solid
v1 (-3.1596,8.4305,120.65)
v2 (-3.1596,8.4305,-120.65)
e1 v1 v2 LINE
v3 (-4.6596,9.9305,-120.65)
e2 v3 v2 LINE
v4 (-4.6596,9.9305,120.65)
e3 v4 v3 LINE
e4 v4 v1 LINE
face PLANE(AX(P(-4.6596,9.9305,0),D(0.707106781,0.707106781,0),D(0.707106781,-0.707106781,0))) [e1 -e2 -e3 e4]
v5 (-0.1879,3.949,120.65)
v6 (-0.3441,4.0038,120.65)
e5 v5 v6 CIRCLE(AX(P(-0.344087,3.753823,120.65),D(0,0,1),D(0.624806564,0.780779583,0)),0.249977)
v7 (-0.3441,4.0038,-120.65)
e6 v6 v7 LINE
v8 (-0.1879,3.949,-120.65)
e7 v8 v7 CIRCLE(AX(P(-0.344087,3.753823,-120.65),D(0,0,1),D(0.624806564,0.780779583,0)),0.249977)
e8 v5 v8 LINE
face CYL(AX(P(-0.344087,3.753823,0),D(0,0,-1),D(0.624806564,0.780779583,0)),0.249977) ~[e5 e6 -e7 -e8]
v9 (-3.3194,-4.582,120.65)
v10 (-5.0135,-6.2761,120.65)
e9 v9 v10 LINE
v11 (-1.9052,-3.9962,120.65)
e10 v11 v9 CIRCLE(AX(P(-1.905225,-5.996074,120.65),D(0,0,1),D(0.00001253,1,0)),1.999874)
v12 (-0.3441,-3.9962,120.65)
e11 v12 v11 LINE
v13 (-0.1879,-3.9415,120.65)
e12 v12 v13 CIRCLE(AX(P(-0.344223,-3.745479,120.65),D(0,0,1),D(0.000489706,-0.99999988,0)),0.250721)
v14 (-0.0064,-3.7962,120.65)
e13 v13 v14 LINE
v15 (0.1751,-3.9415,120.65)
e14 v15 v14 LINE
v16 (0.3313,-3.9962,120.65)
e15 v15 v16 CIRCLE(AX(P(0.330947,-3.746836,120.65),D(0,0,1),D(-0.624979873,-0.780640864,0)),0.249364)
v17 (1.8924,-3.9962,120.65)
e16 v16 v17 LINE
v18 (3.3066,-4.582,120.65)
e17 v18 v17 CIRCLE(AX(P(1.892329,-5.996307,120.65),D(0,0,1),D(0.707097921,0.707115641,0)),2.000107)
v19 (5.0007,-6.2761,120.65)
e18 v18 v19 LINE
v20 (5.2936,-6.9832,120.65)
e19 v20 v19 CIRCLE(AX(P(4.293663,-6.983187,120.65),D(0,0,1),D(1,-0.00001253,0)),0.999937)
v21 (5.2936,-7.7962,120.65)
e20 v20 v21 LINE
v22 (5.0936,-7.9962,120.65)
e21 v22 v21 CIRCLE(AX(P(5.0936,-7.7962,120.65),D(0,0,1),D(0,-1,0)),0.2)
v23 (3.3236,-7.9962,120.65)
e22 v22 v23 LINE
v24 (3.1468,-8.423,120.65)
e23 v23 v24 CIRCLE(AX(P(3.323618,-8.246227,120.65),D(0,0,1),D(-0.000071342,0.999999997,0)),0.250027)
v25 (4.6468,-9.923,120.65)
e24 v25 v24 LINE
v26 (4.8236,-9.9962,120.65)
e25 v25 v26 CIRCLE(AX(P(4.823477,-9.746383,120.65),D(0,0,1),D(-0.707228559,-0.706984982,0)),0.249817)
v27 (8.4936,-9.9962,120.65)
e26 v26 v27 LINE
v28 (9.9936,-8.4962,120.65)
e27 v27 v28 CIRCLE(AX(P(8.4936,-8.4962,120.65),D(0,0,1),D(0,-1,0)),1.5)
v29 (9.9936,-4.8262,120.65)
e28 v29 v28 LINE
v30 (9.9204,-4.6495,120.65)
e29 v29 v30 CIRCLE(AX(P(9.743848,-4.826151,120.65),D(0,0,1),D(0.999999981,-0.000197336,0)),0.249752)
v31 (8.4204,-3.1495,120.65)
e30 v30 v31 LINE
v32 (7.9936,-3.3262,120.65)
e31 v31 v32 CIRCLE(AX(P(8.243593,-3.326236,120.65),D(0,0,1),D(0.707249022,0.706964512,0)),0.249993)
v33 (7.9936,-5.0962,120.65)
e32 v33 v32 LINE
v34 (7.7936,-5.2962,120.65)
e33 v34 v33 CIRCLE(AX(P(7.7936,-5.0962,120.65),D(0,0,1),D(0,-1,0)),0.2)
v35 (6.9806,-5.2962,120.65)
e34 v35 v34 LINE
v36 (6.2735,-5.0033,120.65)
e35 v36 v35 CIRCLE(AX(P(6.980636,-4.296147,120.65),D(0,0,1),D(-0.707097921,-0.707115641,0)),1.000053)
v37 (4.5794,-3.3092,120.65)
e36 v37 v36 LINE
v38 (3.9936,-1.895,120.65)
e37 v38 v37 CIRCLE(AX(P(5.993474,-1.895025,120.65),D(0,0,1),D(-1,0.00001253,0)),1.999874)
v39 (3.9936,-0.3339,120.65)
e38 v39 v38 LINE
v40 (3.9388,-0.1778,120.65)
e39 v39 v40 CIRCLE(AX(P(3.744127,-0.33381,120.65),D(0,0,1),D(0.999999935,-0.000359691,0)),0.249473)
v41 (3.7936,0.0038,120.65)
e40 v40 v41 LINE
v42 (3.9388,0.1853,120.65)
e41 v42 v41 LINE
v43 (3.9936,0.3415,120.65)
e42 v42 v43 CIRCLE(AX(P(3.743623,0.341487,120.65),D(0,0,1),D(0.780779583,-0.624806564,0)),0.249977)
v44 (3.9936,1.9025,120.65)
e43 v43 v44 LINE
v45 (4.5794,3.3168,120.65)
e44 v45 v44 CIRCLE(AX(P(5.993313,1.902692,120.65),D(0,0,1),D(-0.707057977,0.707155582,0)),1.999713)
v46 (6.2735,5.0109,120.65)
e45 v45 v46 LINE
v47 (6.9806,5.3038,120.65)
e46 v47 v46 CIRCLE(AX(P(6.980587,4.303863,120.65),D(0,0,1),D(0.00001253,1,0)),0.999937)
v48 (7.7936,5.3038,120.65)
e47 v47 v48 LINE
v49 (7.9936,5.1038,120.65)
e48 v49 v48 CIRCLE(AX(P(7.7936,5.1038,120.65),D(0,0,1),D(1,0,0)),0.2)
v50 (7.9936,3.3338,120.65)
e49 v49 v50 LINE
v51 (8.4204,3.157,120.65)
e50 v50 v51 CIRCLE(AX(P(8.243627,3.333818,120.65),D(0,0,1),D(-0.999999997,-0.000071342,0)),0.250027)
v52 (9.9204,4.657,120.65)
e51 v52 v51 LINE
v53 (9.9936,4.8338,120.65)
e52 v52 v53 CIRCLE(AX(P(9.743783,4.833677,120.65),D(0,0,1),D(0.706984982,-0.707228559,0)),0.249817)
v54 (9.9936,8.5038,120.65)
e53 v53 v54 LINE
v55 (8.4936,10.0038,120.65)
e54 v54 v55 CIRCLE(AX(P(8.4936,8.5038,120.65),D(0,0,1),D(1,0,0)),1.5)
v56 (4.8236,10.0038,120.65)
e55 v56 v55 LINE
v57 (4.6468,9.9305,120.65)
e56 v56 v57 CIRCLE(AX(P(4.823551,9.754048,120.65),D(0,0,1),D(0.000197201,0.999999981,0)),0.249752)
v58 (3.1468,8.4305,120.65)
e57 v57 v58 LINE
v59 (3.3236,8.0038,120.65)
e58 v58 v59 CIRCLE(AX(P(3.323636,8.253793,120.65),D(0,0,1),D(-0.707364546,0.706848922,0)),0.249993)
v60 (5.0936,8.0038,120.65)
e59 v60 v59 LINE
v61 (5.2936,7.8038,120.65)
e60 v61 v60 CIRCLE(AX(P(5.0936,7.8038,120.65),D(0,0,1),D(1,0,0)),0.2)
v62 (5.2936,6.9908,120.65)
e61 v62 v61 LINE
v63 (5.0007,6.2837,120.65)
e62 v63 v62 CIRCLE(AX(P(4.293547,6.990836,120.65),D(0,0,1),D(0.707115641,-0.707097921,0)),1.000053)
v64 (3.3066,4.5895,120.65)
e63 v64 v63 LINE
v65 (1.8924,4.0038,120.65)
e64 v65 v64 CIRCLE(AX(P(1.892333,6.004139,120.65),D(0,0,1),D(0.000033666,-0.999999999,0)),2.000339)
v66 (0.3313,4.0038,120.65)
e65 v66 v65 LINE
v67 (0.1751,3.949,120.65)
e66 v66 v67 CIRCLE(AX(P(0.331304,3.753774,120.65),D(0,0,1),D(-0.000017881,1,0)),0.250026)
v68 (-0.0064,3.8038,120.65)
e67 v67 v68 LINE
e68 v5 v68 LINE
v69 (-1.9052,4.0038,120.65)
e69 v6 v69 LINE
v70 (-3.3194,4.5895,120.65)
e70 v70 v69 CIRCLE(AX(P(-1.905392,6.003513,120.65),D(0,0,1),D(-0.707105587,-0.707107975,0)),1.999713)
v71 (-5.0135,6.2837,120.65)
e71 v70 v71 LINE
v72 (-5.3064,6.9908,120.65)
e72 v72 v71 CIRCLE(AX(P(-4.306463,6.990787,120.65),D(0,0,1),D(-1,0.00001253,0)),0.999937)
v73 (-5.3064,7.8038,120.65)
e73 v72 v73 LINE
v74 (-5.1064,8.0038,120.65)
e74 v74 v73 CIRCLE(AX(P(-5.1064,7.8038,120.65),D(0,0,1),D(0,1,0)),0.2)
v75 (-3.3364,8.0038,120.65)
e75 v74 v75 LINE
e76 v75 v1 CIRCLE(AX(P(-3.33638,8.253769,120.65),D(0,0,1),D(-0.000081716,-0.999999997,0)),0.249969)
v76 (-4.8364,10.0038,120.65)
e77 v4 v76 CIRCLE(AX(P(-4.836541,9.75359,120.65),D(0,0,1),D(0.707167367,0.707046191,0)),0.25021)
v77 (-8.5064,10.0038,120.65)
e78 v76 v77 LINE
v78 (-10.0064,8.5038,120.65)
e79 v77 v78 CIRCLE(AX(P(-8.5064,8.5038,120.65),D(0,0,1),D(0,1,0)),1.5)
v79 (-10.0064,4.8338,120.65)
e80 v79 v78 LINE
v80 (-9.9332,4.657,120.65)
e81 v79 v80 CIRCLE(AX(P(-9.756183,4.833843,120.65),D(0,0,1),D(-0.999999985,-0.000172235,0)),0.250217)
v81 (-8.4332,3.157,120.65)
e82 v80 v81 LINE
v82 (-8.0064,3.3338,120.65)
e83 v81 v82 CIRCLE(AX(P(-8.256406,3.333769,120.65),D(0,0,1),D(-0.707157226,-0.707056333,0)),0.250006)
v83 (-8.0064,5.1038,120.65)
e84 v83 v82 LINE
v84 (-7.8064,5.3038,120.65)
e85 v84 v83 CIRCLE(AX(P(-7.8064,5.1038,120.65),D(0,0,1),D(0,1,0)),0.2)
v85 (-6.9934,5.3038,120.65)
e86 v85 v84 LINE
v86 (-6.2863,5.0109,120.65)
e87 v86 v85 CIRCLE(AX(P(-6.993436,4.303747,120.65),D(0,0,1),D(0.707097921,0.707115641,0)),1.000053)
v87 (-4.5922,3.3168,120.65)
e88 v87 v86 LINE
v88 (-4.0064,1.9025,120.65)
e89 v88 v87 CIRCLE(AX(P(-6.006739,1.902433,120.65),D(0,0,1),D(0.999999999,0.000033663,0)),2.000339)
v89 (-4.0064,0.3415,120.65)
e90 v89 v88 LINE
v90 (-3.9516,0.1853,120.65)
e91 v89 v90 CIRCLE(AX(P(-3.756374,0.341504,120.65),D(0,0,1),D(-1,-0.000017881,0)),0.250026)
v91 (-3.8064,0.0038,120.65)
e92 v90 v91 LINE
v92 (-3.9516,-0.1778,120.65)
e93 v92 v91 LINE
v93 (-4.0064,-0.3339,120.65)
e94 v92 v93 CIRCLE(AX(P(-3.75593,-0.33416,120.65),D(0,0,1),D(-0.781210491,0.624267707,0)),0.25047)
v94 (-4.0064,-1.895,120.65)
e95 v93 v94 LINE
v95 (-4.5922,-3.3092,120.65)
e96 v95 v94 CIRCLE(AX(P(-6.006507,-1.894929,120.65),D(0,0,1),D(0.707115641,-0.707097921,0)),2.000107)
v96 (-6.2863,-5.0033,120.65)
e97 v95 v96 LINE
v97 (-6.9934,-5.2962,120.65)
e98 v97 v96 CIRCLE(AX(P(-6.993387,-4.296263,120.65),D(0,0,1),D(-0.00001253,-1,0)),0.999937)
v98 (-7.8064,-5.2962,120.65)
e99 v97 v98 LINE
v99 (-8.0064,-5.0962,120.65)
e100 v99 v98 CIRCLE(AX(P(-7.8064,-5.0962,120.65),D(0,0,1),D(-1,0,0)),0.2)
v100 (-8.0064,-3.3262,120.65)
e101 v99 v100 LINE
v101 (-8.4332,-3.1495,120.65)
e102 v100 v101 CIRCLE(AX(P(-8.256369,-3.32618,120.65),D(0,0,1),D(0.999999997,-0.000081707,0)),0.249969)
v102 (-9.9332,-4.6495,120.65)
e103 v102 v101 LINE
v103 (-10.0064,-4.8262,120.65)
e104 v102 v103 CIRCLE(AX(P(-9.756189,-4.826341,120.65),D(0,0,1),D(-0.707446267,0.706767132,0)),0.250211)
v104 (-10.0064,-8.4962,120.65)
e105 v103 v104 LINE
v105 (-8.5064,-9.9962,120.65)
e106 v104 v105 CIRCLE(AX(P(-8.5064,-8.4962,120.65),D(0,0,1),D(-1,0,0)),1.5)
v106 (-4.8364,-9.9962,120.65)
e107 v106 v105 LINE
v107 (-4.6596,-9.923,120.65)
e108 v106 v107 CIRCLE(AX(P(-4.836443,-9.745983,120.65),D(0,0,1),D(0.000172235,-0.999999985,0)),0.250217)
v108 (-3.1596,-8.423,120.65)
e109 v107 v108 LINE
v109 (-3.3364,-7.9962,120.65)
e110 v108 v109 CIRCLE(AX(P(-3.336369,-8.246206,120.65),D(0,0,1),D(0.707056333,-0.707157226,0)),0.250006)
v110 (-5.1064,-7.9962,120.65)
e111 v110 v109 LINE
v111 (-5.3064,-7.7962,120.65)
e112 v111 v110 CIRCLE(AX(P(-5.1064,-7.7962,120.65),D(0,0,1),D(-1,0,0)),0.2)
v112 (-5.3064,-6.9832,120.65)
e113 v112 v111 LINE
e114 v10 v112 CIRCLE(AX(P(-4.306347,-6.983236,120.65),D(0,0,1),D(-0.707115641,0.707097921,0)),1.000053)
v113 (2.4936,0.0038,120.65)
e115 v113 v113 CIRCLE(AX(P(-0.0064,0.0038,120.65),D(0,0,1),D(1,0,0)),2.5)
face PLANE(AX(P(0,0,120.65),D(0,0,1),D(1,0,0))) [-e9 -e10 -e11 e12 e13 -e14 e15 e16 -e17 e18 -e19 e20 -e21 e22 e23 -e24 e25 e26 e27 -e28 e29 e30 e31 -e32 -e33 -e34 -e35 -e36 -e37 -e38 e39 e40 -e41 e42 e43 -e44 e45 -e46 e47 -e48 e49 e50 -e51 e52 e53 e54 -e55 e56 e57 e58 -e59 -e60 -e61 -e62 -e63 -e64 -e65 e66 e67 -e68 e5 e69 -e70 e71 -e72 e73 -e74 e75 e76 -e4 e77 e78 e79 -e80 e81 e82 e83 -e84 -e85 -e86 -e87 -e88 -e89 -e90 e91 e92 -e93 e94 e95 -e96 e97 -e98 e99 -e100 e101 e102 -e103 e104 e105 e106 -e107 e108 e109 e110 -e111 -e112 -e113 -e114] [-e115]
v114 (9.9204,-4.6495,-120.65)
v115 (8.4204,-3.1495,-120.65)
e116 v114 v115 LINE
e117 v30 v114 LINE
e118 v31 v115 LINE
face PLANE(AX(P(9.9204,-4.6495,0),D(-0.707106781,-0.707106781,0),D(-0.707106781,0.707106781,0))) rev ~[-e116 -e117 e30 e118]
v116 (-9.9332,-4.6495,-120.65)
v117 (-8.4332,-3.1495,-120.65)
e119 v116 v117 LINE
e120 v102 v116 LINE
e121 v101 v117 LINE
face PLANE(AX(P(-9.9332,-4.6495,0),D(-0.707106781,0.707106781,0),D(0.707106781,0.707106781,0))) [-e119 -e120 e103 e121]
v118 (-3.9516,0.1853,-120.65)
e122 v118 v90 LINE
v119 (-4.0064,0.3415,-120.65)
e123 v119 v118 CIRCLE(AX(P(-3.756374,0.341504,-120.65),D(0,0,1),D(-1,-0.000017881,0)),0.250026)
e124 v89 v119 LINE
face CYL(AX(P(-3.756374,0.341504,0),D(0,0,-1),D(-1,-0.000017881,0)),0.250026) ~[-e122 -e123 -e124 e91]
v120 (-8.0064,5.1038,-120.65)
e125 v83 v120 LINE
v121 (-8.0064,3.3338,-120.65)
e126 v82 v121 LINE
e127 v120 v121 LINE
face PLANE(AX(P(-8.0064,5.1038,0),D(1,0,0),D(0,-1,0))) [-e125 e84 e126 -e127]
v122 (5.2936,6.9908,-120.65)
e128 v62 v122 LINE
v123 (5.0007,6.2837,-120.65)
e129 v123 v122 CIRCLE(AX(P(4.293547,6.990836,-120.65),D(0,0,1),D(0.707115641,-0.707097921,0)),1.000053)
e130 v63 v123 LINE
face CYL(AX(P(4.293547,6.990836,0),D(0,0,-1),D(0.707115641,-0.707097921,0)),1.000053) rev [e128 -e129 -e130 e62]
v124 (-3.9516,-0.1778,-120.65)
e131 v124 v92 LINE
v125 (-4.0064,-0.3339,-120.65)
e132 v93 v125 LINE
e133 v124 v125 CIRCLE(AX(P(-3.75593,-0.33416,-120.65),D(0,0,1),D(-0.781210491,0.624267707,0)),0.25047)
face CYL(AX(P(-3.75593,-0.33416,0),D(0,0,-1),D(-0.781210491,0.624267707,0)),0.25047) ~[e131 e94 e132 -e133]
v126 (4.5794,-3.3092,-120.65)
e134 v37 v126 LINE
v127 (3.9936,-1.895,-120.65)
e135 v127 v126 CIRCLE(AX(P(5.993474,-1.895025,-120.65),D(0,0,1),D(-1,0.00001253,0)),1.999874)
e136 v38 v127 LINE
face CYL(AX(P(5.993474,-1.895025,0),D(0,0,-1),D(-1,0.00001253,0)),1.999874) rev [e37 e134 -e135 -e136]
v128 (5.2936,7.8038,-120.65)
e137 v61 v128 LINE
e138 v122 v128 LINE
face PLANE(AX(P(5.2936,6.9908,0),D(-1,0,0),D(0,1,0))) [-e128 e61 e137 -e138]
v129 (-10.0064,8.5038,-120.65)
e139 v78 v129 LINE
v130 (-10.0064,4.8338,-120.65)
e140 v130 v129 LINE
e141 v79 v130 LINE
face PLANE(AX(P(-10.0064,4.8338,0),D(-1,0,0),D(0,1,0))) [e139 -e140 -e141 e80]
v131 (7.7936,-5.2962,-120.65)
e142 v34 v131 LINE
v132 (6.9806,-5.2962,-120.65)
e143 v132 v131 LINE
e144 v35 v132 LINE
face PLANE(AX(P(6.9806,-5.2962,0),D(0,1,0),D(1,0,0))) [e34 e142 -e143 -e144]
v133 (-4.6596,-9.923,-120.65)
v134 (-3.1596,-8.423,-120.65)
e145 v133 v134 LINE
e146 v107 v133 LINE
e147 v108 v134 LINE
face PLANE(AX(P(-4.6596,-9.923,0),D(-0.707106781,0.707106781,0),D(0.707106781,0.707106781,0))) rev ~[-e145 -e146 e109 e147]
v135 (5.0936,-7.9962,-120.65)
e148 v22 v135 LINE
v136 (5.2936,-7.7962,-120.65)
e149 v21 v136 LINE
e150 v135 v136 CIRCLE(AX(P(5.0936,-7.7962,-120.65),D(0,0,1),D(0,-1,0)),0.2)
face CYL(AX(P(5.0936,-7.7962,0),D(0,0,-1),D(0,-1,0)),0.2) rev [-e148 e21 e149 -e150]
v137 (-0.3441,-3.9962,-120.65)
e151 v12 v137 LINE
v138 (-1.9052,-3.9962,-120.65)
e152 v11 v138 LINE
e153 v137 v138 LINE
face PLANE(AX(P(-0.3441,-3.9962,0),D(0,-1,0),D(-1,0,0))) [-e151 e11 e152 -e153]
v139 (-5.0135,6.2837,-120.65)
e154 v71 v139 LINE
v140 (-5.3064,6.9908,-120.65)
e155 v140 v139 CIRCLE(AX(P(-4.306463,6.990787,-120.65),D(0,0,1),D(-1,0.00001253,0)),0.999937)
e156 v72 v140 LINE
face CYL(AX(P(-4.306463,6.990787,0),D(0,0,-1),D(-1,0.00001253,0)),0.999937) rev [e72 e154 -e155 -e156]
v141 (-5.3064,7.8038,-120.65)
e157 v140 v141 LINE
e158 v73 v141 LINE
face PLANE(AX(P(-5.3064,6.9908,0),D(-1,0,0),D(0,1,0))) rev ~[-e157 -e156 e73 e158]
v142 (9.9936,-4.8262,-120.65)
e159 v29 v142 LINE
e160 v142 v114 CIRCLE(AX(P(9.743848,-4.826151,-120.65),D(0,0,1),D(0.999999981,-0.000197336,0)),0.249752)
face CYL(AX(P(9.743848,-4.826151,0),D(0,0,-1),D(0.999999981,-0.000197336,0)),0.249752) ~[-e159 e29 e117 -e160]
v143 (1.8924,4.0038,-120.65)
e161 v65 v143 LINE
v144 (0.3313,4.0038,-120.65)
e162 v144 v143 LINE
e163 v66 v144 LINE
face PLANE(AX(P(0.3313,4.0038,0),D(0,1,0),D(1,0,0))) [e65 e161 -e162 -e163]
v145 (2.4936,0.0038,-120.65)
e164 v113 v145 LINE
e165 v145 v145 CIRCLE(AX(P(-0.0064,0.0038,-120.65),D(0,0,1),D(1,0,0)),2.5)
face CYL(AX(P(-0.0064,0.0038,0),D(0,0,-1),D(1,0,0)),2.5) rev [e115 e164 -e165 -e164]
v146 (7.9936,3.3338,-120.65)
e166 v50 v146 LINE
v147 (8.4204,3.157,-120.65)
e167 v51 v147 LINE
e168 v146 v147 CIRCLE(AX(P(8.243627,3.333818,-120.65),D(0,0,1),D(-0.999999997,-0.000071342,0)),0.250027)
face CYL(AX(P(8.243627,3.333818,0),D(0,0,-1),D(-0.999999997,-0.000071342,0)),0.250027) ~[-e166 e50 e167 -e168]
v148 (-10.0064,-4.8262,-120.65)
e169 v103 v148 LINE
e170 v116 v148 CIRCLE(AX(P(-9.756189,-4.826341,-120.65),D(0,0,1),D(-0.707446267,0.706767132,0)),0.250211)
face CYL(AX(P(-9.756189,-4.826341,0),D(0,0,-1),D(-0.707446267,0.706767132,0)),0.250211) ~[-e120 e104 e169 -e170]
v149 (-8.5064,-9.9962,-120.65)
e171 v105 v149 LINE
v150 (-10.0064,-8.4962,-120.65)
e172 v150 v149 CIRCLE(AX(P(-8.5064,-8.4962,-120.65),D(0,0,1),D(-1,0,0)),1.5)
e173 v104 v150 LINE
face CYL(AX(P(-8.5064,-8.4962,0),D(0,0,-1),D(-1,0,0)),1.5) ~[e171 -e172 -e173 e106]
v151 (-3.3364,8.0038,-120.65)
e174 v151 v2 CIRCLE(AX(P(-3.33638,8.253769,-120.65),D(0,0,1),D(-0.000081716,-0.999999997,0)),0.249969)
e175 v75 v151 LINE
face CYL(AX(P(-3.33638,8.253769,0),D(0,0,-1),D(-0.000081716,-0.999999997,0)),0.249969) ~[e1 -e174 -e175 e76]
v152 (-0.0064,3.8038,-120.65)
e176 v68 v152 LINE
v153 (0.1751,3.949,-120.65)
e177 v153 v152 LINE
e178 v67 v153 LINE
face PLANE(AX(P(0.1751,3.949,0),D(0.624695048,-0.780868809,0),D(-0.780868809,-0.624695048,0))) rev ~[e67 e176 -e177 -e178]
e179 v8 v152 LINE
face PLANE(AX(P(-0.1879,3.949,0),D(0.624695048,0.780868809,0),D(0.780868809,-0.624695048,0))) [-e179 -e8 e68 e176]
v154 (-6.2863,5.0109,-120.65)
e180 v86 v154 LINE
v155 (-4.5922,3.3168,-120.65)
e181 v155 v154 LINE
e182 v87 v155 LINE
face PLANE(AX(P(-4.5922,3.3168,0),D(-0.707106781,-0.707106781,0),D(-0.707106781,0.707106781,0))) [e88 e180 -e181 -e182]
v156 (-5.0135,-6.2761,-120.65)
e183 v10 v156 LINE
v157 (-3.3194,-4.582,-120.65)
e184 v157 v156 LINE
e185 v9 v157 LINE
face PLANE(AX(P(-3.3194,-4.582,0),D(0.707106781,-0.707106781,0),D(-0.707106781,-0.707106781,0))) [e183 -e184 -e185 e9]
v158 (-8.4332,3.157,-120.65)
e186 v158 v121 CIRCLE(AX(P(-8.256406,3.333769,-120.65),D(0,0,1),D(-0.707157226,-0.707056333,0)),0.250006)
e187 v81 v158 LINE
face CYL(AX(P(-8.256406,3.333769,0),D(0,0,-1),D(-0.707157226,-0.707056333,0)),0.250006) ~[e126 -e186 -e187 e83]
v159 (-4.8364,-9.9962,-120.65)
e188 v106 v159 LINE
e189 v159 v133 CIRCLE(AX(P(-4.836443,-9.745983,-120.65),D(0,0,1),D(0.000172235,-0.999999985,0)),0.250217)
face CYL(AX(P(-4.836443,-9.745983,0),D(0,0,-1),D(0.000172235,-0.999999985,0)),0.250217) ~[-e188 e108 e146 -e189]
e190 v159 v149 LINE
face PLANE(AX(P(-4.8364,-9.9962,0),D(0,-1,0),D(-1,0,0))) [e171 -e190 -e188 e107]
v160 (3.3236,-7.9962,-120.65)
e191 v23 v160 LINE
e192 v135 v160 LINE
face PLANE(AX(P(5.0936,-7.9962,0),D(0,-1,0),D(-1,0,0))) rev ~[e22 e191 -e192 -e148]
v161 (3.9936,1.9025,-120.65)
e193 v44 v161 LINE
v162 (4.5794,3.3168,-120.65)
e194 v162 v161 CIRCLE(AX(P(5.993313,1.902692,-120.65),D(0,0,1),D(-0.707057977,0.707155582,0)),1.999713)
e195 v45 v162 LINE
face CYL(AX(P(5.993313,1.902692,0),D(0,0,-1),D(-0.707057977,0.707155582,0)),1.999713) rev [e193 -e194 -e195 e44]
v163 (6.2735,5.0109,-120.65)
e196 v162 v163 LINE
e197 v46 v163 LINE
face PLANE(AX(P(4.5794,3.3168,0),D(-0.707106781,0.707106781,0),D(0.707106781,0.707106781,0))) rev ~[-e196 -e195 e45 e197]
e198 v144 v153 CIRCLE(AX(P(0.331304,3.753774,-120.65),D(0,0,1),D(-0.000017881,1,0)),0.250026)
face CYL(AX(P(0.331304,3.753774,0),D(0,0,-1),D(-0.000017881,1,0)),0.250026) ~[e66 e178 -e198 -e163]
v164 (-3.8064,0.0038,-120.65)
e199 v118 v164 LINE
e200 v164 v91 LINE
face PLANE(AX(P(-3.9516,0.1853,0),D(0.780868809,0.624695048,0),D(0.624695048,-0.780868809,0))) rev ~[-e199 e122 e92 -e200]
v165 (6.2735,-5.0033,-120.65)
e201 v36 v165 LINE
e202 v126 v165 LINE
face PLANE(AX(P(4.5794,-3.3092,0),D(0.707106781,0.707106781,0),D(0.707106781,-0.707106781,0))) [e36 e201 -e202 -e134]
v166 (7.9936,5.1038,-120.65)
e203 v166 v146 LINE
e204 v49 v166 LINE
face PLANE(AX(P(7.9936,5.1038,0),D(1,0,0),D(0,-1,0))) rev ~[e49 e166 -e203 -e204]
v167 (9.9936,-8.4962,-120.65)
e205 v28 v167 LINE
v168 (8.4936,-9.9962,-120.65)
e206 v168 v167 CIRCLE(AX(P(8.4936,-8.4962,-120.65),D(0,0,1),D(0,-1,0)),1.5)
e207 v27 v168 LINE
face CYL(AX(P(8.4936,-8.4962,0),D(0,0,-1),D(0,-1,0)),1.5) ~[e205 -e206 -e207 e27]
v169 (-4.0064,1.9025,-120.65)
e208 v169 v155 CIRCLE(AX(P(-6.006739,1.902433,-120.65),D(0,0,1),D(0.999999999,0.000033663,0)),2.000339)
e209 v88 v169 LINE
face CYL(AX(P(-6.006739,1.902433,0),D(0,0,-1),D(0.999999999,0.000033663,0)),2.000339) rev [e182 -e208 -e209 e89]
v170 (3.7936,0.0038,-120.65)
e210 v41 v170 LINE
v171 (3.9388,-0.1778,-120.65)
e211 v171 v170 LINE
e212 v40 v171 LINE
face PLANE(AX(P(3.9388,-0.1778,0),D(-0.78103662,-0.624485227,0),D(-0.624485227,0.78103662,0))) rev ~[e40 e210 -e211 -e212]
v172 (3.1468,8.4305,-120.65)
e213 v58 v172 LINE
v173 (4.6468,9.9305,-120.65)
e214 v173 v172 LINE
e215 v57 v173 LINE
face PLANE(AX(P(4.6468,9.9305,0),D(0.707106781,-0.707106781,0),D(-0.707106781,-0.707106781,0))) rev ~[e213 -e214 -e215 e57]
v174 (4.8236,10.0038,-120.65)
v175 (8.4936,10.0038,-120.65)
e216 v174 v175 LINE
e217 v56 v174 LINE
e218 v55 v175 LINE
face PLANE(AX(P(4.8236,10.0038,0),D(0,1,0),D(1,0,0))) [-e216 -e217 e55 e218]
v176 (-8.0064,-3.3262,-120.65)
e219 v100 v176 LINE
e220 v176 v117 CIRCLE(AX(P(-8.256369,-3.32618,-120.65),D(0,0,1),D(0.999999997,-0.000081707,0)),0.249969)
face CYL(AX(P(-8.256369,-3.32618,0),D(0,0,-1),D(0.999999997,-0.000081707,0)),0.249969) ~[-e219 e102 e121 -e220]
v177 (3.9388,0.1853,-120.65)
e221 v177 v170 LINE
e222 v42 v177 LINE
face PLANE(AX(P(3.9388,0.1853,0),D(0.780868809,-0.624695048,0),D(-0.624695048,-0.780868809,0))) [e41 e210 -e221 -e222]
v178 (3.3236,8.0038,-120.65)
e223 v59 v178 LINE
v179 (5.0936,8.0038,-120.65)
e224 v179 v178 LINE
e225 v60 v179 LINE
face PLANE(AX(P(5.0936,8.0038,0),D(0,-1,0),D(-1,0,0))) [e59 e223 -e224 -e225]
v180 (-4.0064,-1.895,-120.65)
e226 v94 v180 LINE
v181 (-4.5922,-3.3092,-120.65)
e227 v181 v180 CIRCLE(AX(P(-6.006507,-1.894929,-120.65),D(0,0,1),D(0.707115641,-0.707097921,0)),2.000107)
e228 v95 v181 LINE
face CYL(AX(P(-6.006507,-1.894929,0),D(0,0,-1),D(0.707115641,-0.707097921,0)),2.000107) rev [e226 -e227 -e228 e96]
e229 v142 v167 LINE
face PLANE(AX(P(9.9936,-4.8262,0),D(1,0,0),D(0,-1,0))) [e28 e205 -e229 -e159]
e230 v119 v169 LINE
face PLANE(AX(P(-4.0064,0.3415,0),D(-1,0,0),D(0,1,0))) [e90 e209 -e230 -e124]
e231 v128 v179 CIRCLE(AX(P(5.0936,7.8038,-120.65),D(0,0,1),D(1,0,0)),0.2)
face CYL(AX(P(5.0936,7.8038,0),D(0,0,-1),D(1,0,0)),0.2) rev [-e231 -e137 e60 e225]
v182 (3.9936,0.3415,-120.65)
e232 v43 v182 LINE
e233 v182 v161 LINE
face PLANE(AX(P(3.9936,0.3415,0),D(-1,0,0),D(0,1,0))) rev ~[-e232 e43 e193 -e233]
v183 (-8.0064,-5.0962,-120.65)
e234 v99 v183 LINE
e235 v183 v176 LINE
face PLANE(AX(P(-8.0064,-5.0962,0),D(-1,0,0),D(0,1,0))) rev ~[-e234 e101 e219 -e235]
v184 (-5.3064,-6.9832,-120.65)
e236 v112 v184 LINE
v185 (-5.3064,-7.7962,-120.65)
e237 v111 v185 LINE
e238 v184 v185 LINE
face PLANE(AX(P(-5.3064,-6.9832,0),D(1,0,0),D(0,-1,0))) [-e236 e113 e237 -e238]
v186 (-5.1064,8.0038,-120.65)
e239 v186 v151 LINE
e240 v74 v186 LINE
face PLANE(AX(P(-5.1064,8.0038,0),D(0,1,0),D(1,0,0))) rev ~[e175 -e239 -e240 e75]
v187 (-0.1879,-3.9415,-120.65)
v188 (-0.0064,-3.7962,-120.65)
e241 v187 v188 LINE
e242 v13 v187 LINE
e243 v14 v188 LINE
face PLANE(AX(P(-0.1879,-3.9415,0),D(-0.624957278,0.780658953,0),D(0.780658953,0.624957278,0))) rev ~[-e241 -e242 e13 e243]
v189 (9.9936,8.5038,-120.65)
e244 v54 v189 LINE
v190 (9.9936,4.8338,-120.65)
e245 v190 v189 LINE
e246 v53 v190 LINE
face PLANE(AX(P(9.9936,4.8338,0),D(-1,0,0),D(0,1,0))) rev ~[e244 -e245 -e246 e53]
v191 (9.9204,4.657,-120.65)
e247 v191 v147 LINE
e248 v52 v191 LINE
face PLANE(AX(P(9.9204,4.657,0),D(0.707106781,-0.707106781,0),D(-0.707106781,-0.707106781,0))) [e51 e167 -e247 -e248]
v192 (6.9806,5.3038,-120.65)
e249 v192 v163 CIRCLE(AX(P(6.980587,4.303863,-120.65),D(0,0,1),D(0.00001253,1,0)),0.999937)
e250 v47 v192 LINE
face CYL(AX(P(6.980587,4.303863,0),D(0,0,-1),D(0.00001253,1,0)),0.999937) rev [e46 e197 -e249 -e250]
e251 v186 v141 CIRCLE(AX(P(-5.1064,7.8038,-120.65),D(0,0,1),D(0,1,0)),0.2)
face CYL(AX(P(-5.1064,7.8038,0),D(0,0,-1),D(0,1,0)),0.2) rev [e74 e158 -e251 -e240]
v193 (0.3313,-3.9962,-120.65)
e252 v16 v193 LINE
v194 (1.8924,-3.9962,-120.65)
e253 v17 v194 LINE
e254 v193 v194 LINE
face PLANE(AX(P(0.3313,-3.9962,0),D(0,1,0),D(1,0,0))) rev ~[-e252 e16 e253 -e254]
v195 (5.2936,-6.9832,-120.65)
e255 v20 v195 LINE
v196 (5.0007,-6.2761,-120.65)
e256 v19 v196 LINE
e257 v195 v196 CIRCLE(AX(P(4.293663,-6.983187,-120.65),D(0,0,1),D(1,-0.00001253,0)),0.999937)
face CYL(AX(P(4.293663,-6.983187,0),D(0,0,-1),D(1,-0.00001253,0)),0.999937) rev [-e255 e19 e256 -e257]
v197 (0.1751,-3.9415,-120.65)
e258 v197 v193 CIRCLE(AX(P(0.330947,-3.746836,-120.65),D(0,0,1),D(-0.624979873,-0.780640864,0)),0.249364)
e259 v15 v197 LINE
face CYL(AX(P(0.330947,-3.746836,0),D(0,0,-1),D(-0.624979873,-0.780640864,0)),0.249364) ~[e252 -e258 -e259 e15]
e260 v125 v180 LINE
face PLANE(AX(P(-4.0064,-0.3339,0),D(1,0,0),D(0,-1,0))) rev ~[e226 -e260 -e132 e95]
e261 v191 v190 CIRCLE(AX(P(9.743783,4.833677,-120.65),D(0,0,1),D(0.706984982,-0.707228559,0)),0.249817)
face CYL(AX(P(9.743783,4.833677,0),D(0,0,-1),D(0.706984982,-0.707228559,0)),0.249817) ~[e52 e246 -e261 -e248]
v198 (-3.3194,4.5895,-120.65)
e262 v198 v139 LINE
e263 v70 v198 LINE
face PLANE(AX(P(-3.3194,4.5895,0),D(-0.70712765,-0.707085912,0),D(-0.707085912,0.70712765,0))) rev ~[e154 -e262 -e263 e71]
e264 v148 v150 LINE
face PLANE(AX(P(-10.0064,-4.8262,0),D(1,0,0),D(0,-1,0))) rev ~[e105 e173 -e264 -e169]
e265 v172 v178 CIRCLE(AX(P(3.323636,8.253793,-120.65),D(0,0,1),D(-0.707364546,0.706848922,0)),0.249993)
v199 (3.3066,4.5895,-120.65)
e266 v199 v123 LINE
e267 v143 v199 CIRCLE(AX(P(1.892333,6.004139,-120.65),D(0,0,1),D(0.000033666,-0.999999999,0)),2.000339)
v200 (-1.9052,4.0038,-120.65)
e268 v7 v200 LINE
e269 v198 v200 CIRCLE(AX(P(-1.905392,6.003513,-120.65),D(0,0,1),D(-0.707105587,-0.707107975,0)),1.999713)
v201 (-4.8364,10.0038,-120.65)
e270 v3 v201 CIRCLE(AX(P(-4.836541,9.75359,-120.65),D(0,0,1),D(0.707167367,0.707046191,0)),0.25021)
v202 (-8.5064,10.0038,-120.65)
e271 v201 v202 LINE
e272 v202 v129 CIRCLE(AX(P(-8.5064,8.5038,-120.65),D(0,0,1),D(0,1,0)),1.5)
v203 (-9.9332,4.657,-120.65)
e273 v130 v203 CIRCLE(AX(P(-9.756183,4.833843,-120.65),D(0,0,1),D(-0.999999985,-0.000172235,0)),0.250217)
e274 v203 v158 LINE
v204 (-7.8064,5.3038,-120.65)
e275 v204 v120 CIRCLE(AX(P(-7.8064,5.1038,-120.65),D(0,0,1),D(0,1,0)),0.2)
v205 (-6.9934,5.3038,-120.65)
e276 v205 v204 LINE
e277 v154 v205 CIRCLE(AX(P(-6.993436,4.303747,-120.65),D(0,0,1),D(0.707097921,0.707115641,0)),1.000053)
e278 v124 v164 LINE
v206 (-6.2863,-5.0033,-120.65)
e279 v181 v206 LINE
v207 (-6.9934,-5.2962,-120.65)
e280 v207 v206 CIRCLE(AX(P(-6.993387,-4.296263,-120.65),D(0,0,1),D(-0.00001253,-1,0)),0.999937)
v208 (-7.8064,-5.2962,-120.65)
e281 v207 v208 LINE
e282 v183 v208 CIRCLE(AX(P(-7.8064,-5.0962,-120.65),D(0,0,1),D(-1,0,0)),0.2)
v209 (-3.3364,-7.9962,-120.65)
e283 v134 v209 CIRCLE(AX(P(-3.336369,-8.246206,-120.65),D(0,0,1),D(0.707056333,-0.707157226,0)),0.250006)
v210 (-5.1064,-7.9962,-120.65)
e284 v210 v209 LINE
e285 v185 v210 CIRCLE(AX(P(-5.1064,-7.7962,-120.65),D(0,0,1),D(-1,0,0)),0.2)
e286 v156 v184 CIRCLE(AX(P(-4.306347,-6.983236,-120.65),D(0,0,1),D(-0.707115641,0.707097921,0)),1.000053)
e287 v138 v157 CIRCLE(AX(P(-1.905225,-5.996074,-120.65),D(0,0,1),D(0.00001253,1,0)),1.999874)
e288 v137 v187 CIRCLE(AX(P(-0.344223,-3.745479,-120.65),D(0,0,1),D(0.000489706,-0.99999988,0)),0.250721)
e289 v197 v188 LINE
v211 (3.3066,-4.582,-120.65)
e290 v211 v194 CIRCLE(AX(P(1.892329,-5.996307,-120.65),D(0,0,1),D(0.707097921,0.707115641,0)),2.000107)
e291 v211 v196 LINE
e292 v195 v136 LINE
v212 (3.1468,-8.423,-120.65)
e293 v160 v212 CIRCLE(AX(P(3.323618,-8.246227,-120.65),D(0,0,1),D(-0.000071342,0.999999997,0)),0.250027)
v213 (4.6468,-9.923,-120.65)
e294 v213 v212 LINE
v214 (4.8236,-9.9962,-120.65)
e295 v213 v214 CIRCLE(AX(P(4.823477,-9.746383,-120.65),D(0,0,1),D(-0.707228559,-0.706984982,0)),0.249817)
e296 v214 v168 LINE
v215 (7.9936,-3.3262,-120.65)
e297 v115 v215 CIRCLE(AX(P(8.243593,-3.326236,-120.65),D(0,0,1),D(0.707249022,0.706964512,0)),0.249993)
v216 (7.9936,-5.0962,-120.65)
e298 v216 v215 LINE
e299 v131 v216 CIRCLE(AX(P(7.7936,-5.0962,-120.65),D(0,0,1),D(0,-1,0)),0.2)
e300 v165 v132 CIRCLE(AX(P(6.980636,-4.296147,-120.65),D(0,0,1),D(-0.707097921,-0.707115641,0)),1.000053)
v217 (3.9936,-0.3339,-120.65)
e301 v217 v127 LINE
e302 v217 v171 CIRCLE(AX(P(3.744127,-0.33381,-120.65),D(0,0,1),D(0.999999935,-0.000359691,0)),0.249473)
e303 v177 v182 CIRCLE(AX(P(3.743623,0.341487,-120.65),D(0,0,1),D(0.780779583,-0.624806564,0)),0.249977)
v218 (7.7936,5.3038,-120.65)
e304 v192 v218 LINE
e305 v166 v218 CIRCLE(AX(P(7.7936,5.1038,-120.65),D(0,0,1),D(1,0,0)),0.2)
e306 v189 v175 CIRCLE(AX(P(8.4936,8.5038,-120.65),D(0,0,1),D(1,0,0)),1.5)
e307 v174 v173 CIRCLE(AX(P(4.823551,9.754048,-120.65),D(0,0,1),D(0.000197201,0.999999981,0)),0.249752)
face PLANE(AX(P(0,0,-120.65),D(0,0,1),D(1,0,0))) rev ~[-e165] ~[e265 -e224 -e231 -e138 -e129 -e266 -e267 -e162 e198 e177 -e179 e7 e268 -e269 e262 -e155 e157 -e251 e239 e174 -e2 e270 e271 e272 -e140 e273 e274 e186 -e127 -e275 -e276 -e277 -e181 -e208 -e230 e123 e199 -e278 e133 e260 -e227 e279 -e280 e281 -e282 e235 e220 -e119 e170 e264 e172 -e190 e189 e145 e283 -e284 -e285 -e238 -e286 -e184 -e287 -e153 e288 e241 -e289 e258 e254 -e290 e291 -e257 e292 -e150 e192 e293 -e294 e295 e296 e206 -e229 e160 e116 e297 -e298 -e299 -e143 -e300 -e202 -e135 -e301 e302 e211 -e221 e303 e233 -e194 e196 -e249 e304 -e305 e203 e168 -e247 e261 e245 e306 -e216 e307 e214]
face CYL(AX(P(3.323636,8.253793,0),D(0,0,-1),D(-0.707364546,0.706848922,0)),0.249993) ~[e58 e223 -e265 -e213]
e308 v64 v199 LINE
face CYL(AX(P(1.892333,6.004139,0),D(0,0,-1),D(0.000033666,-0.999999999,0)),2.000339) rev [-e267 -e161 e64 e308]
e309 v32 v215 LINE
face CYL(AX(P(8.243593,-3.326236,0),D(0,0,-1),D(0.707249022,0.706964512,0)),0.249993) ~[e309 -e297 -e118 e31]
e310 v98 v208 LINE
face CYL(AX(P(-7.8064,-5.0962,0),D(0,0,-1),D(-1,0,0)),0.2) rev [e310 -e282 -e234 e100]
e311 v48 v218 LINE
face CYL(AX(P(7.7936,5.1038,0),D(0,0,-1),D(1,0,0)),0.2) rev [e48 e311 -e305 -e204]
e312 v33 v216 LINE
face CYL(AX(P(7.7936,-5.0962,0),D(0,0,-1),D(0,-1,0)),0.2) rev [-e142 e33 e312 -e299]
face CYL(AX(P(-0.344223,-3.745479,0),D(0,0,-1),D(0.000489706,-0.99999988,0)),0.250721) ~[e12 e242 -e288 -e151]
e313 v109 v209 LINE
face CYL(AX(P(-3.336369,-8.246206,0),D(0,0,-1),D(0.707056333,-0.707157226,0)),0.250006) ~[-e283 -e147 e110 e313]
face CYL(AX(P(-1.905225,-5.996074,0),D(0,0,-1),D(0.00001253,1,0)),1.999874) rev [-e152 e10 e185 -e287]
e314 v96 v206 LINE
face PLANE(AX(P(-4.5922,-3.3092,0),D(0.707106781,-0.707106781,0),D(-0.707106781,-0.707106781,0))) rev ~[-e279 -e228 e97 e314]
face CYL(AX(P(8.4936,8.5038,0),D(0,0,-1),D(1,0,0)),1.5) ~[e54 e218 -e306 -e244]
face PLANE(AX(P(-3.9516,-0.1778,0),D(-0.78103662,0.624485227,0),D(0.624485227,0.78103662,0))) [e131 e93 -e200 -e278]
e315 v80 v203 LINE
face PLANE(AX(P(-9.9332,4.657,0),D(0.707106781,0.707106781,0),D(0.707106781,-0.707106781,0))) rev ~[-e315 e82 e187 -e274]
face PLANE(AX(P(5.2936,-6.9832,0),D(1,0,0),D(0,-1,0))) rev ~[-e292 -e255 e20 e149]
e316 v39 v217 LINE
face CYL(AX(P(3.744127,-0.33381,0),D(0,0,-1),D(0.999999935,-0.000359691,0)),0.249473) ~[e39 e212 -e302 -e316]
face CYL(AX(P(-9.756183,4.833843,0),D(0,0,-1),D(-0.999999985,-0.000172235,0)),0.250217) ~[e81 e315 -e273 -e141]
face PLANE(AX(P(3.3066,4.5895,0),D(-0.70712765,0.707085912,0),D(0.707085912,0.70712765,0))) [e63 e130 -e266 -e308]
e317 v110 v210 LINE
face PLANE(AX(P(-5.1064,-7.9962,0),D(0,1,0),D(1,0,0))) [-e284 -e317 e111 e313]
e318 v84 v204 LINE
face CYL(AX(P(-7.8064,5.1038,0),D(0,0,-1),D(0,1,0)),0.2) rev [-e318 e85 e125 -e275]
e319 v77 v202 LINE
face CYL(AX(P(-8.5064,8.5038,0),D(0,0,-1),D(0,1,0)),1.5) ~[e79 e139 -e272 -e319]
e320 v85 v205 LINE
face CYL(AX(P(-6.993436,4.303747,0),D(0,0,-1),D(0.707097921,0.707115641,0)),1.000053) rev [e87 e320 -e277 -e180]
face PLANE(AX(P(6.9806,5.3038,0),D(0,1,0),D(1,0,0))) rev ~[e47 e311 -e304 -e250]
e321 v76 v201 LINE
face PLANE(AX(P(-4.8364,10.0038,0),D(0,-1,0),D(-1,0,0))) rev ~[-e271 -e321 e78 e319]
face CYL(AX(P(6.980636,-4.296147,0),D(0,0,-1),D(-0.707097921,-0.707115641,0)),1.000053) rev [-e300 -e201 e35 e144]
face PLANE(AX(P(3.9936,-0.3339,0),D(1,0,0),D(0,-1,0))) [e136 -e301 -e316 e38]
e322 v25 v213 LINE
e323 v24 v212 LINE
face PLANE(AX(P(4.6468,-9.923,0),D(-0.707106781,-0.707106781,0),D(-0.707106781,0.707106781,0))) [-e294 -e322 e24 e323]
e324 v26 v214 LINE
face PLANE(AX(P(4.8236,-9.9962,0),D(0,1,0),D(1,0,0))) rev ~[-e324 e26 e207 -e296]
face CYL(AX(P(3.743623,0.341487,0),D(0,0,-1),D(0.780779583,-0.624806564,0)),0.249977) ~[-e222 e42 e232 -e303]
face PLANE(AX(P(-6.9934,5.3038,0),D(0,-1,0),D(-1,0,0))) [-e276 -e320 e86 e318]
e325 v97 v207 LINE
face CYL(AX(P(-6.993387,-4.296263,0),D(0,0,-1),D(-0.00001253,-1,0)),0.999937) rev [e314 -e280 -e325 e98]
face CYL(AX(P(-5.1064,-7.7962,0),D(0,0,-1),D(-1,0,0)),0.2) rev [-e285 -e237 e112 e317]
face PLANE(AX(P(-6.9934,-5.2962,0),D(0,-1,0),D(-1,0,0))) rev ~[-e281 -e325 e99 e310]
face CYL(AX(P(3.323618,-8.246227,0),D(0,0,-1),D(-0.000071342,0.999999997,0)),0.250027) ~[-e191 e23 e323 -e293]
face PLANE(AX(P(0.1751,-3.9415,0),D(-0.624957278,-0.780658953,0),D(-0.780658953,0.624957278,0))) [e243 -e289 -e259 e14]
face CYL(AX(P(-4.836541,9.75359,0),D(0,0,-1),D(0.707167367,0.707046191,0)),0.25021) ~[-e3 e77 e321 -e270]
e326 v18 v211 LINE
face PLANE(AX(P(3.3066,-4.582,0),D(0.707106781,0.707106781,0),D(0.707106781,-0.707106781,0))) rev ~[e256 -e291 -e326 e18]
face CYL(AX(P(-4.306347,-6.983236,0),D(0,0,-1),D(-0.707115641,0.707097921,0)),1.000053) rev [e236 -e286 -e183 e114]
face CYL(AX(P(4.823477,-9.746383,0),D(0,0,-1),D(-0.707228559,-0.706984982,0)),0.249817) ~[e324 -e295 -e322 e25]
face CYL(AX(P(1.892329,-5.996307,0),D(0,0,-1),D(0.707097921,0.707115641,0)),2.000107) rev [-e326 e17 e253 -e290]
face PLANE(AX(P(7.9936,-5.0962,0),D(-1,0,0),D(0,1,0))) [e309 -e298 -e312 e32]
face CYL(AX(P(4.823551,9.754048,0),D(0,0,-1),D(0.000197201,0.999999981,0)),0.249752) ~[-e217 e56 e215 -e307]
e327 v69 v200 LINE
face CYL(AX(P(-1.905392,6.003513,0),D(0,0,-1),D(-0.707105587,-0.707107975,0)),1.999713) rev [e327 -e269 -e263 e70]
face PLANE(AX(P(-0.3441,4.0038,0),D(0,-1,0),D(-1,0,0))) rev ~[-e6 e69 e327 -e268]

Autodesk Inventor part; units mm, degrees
ref_plane "YZ Plane" through (0, 0, 0) normal (1, 0, 0) x (0, 1, 0)
ref_plane "XZ Plane" through (0, 0, 0) normal (0, 1, 0) x (-1, 0, 0)
ref_plane "XY Plane" through (0, 0, 0) normal (0, 0, 1) x (1, 0, 0)
sketch "Эскиз1" plane through (0, 0, 0) normal (0, 0, 1) x (1, 0, 0)
  line L0 (-3.9516, 0.1853) -> (-3.8064, 0.0038)
  line L1 (-3.9516, -0.1778) -> (-3.8064, 0.0038)
  arc A0 (-3.9516, -0.1778) -> (-4.0064, -0.3339) centre (-3.7564, -0.3339) ccw
  line L2 (-4.0064, -0.3339) -> (-4.0064, -1.895)
  arc A1 (-4.5922, -3.3092) -> (-4.0064, -1.895) centre (-6.0064, -1.895) ccw
  line L3 (-4.5922, -3.3092) -> (-6.2863, -5.0033)
  arc A2 (-6.9934, -5.2962) -> (-6.2863, -5.0033) centre (-6.9934, -4.2962) ccw
  line L4 (-6.9934, -5.2962) -> (-7.8064, -5.2962)
  arc A3 (-8.0064, -5.0962) -> (-7.8064, -5.2962) centre (-7.8064, -5.0962) ccw
  line L5 (-8.0064, -5.0962) -> (-8.0064, -3.3262)
  arc A4 (-8.0064, -3.3262) -> (-8.4332, -3.1495) centre (-8.2564, -3.3262) ccw
  line L6 (-9.9332, -4.6495) -> (-8.4332, -3.1495)
  arc A5 (-9.9332, -4.6495) -> (-10.0064, -4.8262) centre (-9.7564, -4.8262) ccw
  line L7 (-10.0064, -4.8262) -> (-10.0064, -8.4962)
  arc A6 (-10.0064, -8.4962) -> (-8.5064, -9.9962) centre (-8.5064, -8.4962) ccw
  line L8 (-4.8364, -9.9962) -> (-8.5064, -9.9962)
  arc A7 (-4.8364, -9.9962) -> (-4.6596, -9.923) centre (-4.8364, -9.7462) ccw
  line L9 (-4.6596, -9.923) -> (-3.1596, -8.423)
  arc A8 (-3.1596, -8.423) -> (-3.3364, -7.9962) centre (-3.3364, -8.2462) ccw
  line L10 (-5.1064, -7.9962) -> (-3.3364, -7.9962)
  arc A9 (-5.3064, -7.7962) -> (-5.1064, -7.9962) centre (-5.1064, -7.7962) ccw
  line L11 (-5.3064, -6.9832) -> (-5.3064, -7.7962)
  arc A10 (-5.0135, -6.2761) -> (-5.3064, -6.9832) centre (-4.3064, -6.9832) ccw
  line L12 (-3.3194, -4.582) -> (-5.0135, -6.2761)
  arc A11 (-1.9052, -3.9962) -> (-3.3194, -4.582) centre (-1.9052, -5.9962) ccw
  line L13 (-0.3441, -3.9962) -> (-1.9052, -3.9962)
  arc A12 (-0.3441, -3.9962) -> (-0.1879, -3.9415) centre (-0.3441, -3.7462) ccw
  line L14 (-0.1879, -3.9415) -> (-0.0064, -3.7962)
  line L15 (0.1751, -3.9415) -> (-0.0064, -3.7962)
  arc A13 (0.1751, -3.9415) -> (0.3313, -3.9962) centre (0.3313, -3.7462) ccw
  line L16 (0.3313, -3.9962) -> (1.8924, -3.9962)
  arc A14 (3.3066, -4.582) -> (1.8924, -3.9962) centre (1.8924, -5.9962) ccw
  line L17 (3.3066, -4.582) -> (5.0007, -6.2761)
  arc A15 (5.2936, -6.9832) -> (5.0007, -6.2761) centre (4.2936, -6.9832) ccw
  line L18 (5.2936, -6.9832) -> (5.2936, -7.7962)
  arc A16 (5.0936, -7.9962) -> (5.2936, -7.7962) centre (5.0936, -7.7962) ccw
  line L19 (5.0936, -7.9962) -> (3.3236, -7.9962)
  arc A17 (3.3236, -7.9962) -> (3.1468, -8.423) centre (3.3236, -8.2462) ccw
  line L20 (4.6468, -9.923) -> (3.1468, -8.423)
  arc A18 (4.6468, -9.923) -> (4.8236, -9.9962) centre (4.8236, -9.7462) ccw
  line L21 (4.8236, -9.9962) -> (8.4936, -9.9962)
  arc A19 (8.4936, -9.9962) -> (9.9936, -8.4962) centre (8.4936, -8.4962) ccw
  line L22 (9.9936, -4.8262) -> (9.9936, -8.4962)
  arc A20 (9.9936, -4.8262) -> (9.9204, -4.6495) centre (9.7436, -4.8262) ccw
  line L23 (9.9204, -4.6495) -> (8.4204, -3.1495)
  arc A21 (8.4204, -3.1495) -> (7.9936, -3.3262) centre (8.2436, -3.3262) ccw
  line L24 (7.9936, -5.0962) -> (7.9936, -3.3262)
  arc A22 (7.7936, -5.2962) -> (7.9936, -5.0962) centre (7.7936, -5.0962) ccw
  line L25 (6.9806, -5.2962) -> (7.7936, -5.2962)
  arc A23 (6.2735, -5.0033) -> (6.9806, -5.2962) centre (6.9806, -4.2962) ccw
  line L26 (4.5794, -3.3092) -> (6.2735, -5.0033)
  arc A24 (3.9936, -1.895) -> (4.5794, -3.3092) centre (5.9936, -1.895) ccw
  line L27 (3.9936, -0.3339) -> (3.9936, -1.895)
  arc A25 (3.9936, -0.3339) -> (3.9388, -0.1778) centre (3.7436, -0.3339) ccw
  line L28 (3.9388, -0.1778) -> (3.7936, 0.0038)
  line L29 (3.9388, 0.1853) -> (3.7936, 0.0038)
  arc A26 (3.9388, 0.1853) -> (3.9936, 0.3415) centre (3.7436, 0.3415) ccw
  line L30 (3.9936, 0.3415) -> (3.9936, 1.9025)
  arc A27 (4.5794, 3.3168) -> (3.9936, 1.9025) centre (5.9936, 1.9025) ccw
  line L31 (4.5794, 3.3168) -> (6.2735, 5.0109)
  arc A28 (6.9806, 5.3038) -> (6.2735, 5.0109) centre (6.9806, 4.3038) ccw
  line L32 (6.9806, 5.3038) -> (7.7936, 5.3038)
  arc A29 (7.9936, 5.1038) -> (7.7936, 5.3038) centre (7.7936, 5.1038) ccw
  line L33 (7.9936, 5.1038) -> (7.9936, 3.3338)
  arc A30 (7.9936, 3.3338) -> (8.4204, 3.157) centre (8.2436, 3.3338) ccw
  line L34 (9.9204, 4.657) -> (8.4204, 3.157)
  arc A31 (9.9204, 4.657) -> (9.9936, 4.8338) centre (9.7436, 4.8338) ccw
  line L35 (9.9936, 4.8338) -> (9.9936, 8.5038)
  arc A32 (9.9936, 8.5038) -> (8.4936, 10.0038) centre (8.4936, 8.5038) ccw
  line L36 (4.8236, 10.0038) -> (8.4936, 10.0038)
  arc A33 (4.8236, 10.0038) -> (4.6468, 9.9305) centre (4.8236, 9.7538) ccw
  line L37 (4.6468, 9.9305) -> (3.1468, 8.4305)
  arc A34 (3.1468, 8.4305) -> (3.3236, 8.0038) centre (3.3236, 8.2538) ccw
  line L38 (5.0936, 8.0038) -> (3.3236, 8.0038)
  arc A35 (5.2936, 7.8038) -> (5.0936, 8.0038) centre (5.0936, 7.8038) ccw
  line L39 (5.2936, 6.9908) -> (5.2936, 7.8038)
  arc A36 (5.0007, 6.2837) -> (5.2936, 6.9908) centre (4.2936, 6.9908) ccw
  line L40 (3.3066, 4.5895) -> (5.0007, 6.2837)
  arc A37 (1.8924, 4.0038) -> (3.3066, 4.5895) centre (1.8924, 6.0038) ccw
  line L41 (0.3313, 4.0038) -> (1.8924, 4.0038)
  arc A38 (0.3313, 4.0038) -> (0.1751, 3.949) centre (0.3313, 3.7538) ccw
  line L42 (0.1751, 3.949) -> (-0.0064, 3.8038)
  line L43 (-0.1879, 3.949) -> (-0.0064, 3.8038)
  arc A39 (-0.1879, 3.949) -> (-0.3441, 4.0038) centre (-0.3441, 3.7538) ccw
  line L44 (-0.3441, 4.0038) -> (-1.9052, 4.0038)
  arc A40 (-3.3194, 4.5895) -> (-1.9052, 4.0038) centre (-1.9052, 6.0038) ccw
  line L45 (-3.3194, 4.5895) -> (-5.0135, 6.2837)
  arc A41 (-5.3064, 6.9908) -> (-5.0135, 6.2837) centre (-4.3064, 6.9908) ccw
  line L46 (-5.3064, 6.9908) -> (-5.3064, 7.8038)
  arc A42 (-5.1064, 8.0038) -> (-5.3064, 7.8038) centre (-5.1064, 7.8038) ccw
  line L47 (-5.1064, 8.0038) -> (-3.3364, 8.0038)
  arc A43 (-3.3364, 8.0038) -> (-3.1596, 8.4305) centre (-3.3364, 8.2538) ccw
  line L48 (-4.6596, 9.9305) -> (-3.1596, 8.4305)
  arc A44 (-4.6596, 9.9305) -> (-4.8364, 10.0038) centre (-4.8364, 9.7538) ccw
  line L49 (-4.8364, 10.0038) -> (-8.5064, 10.0038)
  arc A45 (-8.5064, 10.0038) -> (-10.0064, 8.5038) centre (-8.5064, 8.5038) ccw
  line L50 (-10.0064, 4.8338) -> (-10.0064, 8.5038)
  arc A46 (-10.0064, 4.8338) -> (-9.9332, 4.657) centre (-9.7564, 4.8338) ccw
  line L51 (-9.9332, 4.657) -> (-8.4332, 3.157)
  arc A47 (-8.4332, 3.157) -> (-8.0064, 3.3338) centre (-8.2564, 3.3338) ccw
  line L52 (-8.0064, 5.1038) -> (-8.0064, 3.3338)
  arc A48 (-7.8064, 5.3038) -> (-8.0064, 5.1038) centre (-7.8064, 5.1038) ccw
  line L53 (-6.9934, 5.3038) -> (-7.8064, 5.3038)
  arc A49 (-6.2863, 5.0109) -> (-6.9934, 5.3038) centre (-6.9934, 4.3038) ccw
  line L54 (-4.5922, 3.3168) -> (-6.2863, 5.0109)
  arc A50 (-4.0064, 1.9025) -> (-4.5922, 3.3168) centre (-6.0064, 1.9025) ccw
  line L55 (-4.0064, 0.3415) -> (-4.0064, 1.9025)
  arc A51 (-4.0064, 0.3415) -> (-3.9516, 0.1853) centre (-3.7564, 0.3415) ccw
  circle A52 centre (-0.0064, 0.0038) radius 2.5
  point P0 (0, 0)
  point P1 (-0.0064, 0.0038)
  dimension "d0" = 0.25
  dimension "d1" = 1.5
  dimension "d2" = 0.2
  dimension "d3" = 1
  dimension "d4" = 2
  dimension "d5" = 5
  dimension "d6" = 135
  dimension "d7" = 38.66
  dimension "d8" = 38.66
  dimension "d9" = 45
  dimension "d10" = 2
  dimension "d11" = 4.7
  dimension "d12" = 14
  dimension "d13" = 15.3
  dimension "d14" = 20
  dimension "d15" = 2.829
  dimension "d16" = 4.629
  dimension "d17" = 7.4579
  dimension "d18" = 2.829
  dimension "d19" = 4.629
  dimension "d20" = 7.4579
  dimension "d21" = 10.6
  dimension "d22" = 4.7
  dimension "d23" = 15.3
  dimension "d24" = 2.7
  dimension "d25" = 13.3
  dimension "d26" = 5.9346
  dimension "d27" = 5.9346
  dimension "d28" = 5.9346
  dimension "d29" = 5.9346
  dimension "d30" = 9.9936
  dimension "d31" = 3.7218
  dimension "d32" = 3.7271
  dimension "d33" = 5.3038
  dimension "d34" = 2.96
  dimension "d35" = 2.9647
  dimension "d36" = 2.9742
  dimension "d37" = 2.9684
  dimension "d38" = 8.0064
  dimension "d39" = 10
  dimension "d40" = 3.729
  dimension "d41" = 10
  dimension "d42" = 3.729
extrude "Выдавливание1" add sketch "Эскиз1" along normal mid plane 241.3
properties part number "T-SLOT C"
